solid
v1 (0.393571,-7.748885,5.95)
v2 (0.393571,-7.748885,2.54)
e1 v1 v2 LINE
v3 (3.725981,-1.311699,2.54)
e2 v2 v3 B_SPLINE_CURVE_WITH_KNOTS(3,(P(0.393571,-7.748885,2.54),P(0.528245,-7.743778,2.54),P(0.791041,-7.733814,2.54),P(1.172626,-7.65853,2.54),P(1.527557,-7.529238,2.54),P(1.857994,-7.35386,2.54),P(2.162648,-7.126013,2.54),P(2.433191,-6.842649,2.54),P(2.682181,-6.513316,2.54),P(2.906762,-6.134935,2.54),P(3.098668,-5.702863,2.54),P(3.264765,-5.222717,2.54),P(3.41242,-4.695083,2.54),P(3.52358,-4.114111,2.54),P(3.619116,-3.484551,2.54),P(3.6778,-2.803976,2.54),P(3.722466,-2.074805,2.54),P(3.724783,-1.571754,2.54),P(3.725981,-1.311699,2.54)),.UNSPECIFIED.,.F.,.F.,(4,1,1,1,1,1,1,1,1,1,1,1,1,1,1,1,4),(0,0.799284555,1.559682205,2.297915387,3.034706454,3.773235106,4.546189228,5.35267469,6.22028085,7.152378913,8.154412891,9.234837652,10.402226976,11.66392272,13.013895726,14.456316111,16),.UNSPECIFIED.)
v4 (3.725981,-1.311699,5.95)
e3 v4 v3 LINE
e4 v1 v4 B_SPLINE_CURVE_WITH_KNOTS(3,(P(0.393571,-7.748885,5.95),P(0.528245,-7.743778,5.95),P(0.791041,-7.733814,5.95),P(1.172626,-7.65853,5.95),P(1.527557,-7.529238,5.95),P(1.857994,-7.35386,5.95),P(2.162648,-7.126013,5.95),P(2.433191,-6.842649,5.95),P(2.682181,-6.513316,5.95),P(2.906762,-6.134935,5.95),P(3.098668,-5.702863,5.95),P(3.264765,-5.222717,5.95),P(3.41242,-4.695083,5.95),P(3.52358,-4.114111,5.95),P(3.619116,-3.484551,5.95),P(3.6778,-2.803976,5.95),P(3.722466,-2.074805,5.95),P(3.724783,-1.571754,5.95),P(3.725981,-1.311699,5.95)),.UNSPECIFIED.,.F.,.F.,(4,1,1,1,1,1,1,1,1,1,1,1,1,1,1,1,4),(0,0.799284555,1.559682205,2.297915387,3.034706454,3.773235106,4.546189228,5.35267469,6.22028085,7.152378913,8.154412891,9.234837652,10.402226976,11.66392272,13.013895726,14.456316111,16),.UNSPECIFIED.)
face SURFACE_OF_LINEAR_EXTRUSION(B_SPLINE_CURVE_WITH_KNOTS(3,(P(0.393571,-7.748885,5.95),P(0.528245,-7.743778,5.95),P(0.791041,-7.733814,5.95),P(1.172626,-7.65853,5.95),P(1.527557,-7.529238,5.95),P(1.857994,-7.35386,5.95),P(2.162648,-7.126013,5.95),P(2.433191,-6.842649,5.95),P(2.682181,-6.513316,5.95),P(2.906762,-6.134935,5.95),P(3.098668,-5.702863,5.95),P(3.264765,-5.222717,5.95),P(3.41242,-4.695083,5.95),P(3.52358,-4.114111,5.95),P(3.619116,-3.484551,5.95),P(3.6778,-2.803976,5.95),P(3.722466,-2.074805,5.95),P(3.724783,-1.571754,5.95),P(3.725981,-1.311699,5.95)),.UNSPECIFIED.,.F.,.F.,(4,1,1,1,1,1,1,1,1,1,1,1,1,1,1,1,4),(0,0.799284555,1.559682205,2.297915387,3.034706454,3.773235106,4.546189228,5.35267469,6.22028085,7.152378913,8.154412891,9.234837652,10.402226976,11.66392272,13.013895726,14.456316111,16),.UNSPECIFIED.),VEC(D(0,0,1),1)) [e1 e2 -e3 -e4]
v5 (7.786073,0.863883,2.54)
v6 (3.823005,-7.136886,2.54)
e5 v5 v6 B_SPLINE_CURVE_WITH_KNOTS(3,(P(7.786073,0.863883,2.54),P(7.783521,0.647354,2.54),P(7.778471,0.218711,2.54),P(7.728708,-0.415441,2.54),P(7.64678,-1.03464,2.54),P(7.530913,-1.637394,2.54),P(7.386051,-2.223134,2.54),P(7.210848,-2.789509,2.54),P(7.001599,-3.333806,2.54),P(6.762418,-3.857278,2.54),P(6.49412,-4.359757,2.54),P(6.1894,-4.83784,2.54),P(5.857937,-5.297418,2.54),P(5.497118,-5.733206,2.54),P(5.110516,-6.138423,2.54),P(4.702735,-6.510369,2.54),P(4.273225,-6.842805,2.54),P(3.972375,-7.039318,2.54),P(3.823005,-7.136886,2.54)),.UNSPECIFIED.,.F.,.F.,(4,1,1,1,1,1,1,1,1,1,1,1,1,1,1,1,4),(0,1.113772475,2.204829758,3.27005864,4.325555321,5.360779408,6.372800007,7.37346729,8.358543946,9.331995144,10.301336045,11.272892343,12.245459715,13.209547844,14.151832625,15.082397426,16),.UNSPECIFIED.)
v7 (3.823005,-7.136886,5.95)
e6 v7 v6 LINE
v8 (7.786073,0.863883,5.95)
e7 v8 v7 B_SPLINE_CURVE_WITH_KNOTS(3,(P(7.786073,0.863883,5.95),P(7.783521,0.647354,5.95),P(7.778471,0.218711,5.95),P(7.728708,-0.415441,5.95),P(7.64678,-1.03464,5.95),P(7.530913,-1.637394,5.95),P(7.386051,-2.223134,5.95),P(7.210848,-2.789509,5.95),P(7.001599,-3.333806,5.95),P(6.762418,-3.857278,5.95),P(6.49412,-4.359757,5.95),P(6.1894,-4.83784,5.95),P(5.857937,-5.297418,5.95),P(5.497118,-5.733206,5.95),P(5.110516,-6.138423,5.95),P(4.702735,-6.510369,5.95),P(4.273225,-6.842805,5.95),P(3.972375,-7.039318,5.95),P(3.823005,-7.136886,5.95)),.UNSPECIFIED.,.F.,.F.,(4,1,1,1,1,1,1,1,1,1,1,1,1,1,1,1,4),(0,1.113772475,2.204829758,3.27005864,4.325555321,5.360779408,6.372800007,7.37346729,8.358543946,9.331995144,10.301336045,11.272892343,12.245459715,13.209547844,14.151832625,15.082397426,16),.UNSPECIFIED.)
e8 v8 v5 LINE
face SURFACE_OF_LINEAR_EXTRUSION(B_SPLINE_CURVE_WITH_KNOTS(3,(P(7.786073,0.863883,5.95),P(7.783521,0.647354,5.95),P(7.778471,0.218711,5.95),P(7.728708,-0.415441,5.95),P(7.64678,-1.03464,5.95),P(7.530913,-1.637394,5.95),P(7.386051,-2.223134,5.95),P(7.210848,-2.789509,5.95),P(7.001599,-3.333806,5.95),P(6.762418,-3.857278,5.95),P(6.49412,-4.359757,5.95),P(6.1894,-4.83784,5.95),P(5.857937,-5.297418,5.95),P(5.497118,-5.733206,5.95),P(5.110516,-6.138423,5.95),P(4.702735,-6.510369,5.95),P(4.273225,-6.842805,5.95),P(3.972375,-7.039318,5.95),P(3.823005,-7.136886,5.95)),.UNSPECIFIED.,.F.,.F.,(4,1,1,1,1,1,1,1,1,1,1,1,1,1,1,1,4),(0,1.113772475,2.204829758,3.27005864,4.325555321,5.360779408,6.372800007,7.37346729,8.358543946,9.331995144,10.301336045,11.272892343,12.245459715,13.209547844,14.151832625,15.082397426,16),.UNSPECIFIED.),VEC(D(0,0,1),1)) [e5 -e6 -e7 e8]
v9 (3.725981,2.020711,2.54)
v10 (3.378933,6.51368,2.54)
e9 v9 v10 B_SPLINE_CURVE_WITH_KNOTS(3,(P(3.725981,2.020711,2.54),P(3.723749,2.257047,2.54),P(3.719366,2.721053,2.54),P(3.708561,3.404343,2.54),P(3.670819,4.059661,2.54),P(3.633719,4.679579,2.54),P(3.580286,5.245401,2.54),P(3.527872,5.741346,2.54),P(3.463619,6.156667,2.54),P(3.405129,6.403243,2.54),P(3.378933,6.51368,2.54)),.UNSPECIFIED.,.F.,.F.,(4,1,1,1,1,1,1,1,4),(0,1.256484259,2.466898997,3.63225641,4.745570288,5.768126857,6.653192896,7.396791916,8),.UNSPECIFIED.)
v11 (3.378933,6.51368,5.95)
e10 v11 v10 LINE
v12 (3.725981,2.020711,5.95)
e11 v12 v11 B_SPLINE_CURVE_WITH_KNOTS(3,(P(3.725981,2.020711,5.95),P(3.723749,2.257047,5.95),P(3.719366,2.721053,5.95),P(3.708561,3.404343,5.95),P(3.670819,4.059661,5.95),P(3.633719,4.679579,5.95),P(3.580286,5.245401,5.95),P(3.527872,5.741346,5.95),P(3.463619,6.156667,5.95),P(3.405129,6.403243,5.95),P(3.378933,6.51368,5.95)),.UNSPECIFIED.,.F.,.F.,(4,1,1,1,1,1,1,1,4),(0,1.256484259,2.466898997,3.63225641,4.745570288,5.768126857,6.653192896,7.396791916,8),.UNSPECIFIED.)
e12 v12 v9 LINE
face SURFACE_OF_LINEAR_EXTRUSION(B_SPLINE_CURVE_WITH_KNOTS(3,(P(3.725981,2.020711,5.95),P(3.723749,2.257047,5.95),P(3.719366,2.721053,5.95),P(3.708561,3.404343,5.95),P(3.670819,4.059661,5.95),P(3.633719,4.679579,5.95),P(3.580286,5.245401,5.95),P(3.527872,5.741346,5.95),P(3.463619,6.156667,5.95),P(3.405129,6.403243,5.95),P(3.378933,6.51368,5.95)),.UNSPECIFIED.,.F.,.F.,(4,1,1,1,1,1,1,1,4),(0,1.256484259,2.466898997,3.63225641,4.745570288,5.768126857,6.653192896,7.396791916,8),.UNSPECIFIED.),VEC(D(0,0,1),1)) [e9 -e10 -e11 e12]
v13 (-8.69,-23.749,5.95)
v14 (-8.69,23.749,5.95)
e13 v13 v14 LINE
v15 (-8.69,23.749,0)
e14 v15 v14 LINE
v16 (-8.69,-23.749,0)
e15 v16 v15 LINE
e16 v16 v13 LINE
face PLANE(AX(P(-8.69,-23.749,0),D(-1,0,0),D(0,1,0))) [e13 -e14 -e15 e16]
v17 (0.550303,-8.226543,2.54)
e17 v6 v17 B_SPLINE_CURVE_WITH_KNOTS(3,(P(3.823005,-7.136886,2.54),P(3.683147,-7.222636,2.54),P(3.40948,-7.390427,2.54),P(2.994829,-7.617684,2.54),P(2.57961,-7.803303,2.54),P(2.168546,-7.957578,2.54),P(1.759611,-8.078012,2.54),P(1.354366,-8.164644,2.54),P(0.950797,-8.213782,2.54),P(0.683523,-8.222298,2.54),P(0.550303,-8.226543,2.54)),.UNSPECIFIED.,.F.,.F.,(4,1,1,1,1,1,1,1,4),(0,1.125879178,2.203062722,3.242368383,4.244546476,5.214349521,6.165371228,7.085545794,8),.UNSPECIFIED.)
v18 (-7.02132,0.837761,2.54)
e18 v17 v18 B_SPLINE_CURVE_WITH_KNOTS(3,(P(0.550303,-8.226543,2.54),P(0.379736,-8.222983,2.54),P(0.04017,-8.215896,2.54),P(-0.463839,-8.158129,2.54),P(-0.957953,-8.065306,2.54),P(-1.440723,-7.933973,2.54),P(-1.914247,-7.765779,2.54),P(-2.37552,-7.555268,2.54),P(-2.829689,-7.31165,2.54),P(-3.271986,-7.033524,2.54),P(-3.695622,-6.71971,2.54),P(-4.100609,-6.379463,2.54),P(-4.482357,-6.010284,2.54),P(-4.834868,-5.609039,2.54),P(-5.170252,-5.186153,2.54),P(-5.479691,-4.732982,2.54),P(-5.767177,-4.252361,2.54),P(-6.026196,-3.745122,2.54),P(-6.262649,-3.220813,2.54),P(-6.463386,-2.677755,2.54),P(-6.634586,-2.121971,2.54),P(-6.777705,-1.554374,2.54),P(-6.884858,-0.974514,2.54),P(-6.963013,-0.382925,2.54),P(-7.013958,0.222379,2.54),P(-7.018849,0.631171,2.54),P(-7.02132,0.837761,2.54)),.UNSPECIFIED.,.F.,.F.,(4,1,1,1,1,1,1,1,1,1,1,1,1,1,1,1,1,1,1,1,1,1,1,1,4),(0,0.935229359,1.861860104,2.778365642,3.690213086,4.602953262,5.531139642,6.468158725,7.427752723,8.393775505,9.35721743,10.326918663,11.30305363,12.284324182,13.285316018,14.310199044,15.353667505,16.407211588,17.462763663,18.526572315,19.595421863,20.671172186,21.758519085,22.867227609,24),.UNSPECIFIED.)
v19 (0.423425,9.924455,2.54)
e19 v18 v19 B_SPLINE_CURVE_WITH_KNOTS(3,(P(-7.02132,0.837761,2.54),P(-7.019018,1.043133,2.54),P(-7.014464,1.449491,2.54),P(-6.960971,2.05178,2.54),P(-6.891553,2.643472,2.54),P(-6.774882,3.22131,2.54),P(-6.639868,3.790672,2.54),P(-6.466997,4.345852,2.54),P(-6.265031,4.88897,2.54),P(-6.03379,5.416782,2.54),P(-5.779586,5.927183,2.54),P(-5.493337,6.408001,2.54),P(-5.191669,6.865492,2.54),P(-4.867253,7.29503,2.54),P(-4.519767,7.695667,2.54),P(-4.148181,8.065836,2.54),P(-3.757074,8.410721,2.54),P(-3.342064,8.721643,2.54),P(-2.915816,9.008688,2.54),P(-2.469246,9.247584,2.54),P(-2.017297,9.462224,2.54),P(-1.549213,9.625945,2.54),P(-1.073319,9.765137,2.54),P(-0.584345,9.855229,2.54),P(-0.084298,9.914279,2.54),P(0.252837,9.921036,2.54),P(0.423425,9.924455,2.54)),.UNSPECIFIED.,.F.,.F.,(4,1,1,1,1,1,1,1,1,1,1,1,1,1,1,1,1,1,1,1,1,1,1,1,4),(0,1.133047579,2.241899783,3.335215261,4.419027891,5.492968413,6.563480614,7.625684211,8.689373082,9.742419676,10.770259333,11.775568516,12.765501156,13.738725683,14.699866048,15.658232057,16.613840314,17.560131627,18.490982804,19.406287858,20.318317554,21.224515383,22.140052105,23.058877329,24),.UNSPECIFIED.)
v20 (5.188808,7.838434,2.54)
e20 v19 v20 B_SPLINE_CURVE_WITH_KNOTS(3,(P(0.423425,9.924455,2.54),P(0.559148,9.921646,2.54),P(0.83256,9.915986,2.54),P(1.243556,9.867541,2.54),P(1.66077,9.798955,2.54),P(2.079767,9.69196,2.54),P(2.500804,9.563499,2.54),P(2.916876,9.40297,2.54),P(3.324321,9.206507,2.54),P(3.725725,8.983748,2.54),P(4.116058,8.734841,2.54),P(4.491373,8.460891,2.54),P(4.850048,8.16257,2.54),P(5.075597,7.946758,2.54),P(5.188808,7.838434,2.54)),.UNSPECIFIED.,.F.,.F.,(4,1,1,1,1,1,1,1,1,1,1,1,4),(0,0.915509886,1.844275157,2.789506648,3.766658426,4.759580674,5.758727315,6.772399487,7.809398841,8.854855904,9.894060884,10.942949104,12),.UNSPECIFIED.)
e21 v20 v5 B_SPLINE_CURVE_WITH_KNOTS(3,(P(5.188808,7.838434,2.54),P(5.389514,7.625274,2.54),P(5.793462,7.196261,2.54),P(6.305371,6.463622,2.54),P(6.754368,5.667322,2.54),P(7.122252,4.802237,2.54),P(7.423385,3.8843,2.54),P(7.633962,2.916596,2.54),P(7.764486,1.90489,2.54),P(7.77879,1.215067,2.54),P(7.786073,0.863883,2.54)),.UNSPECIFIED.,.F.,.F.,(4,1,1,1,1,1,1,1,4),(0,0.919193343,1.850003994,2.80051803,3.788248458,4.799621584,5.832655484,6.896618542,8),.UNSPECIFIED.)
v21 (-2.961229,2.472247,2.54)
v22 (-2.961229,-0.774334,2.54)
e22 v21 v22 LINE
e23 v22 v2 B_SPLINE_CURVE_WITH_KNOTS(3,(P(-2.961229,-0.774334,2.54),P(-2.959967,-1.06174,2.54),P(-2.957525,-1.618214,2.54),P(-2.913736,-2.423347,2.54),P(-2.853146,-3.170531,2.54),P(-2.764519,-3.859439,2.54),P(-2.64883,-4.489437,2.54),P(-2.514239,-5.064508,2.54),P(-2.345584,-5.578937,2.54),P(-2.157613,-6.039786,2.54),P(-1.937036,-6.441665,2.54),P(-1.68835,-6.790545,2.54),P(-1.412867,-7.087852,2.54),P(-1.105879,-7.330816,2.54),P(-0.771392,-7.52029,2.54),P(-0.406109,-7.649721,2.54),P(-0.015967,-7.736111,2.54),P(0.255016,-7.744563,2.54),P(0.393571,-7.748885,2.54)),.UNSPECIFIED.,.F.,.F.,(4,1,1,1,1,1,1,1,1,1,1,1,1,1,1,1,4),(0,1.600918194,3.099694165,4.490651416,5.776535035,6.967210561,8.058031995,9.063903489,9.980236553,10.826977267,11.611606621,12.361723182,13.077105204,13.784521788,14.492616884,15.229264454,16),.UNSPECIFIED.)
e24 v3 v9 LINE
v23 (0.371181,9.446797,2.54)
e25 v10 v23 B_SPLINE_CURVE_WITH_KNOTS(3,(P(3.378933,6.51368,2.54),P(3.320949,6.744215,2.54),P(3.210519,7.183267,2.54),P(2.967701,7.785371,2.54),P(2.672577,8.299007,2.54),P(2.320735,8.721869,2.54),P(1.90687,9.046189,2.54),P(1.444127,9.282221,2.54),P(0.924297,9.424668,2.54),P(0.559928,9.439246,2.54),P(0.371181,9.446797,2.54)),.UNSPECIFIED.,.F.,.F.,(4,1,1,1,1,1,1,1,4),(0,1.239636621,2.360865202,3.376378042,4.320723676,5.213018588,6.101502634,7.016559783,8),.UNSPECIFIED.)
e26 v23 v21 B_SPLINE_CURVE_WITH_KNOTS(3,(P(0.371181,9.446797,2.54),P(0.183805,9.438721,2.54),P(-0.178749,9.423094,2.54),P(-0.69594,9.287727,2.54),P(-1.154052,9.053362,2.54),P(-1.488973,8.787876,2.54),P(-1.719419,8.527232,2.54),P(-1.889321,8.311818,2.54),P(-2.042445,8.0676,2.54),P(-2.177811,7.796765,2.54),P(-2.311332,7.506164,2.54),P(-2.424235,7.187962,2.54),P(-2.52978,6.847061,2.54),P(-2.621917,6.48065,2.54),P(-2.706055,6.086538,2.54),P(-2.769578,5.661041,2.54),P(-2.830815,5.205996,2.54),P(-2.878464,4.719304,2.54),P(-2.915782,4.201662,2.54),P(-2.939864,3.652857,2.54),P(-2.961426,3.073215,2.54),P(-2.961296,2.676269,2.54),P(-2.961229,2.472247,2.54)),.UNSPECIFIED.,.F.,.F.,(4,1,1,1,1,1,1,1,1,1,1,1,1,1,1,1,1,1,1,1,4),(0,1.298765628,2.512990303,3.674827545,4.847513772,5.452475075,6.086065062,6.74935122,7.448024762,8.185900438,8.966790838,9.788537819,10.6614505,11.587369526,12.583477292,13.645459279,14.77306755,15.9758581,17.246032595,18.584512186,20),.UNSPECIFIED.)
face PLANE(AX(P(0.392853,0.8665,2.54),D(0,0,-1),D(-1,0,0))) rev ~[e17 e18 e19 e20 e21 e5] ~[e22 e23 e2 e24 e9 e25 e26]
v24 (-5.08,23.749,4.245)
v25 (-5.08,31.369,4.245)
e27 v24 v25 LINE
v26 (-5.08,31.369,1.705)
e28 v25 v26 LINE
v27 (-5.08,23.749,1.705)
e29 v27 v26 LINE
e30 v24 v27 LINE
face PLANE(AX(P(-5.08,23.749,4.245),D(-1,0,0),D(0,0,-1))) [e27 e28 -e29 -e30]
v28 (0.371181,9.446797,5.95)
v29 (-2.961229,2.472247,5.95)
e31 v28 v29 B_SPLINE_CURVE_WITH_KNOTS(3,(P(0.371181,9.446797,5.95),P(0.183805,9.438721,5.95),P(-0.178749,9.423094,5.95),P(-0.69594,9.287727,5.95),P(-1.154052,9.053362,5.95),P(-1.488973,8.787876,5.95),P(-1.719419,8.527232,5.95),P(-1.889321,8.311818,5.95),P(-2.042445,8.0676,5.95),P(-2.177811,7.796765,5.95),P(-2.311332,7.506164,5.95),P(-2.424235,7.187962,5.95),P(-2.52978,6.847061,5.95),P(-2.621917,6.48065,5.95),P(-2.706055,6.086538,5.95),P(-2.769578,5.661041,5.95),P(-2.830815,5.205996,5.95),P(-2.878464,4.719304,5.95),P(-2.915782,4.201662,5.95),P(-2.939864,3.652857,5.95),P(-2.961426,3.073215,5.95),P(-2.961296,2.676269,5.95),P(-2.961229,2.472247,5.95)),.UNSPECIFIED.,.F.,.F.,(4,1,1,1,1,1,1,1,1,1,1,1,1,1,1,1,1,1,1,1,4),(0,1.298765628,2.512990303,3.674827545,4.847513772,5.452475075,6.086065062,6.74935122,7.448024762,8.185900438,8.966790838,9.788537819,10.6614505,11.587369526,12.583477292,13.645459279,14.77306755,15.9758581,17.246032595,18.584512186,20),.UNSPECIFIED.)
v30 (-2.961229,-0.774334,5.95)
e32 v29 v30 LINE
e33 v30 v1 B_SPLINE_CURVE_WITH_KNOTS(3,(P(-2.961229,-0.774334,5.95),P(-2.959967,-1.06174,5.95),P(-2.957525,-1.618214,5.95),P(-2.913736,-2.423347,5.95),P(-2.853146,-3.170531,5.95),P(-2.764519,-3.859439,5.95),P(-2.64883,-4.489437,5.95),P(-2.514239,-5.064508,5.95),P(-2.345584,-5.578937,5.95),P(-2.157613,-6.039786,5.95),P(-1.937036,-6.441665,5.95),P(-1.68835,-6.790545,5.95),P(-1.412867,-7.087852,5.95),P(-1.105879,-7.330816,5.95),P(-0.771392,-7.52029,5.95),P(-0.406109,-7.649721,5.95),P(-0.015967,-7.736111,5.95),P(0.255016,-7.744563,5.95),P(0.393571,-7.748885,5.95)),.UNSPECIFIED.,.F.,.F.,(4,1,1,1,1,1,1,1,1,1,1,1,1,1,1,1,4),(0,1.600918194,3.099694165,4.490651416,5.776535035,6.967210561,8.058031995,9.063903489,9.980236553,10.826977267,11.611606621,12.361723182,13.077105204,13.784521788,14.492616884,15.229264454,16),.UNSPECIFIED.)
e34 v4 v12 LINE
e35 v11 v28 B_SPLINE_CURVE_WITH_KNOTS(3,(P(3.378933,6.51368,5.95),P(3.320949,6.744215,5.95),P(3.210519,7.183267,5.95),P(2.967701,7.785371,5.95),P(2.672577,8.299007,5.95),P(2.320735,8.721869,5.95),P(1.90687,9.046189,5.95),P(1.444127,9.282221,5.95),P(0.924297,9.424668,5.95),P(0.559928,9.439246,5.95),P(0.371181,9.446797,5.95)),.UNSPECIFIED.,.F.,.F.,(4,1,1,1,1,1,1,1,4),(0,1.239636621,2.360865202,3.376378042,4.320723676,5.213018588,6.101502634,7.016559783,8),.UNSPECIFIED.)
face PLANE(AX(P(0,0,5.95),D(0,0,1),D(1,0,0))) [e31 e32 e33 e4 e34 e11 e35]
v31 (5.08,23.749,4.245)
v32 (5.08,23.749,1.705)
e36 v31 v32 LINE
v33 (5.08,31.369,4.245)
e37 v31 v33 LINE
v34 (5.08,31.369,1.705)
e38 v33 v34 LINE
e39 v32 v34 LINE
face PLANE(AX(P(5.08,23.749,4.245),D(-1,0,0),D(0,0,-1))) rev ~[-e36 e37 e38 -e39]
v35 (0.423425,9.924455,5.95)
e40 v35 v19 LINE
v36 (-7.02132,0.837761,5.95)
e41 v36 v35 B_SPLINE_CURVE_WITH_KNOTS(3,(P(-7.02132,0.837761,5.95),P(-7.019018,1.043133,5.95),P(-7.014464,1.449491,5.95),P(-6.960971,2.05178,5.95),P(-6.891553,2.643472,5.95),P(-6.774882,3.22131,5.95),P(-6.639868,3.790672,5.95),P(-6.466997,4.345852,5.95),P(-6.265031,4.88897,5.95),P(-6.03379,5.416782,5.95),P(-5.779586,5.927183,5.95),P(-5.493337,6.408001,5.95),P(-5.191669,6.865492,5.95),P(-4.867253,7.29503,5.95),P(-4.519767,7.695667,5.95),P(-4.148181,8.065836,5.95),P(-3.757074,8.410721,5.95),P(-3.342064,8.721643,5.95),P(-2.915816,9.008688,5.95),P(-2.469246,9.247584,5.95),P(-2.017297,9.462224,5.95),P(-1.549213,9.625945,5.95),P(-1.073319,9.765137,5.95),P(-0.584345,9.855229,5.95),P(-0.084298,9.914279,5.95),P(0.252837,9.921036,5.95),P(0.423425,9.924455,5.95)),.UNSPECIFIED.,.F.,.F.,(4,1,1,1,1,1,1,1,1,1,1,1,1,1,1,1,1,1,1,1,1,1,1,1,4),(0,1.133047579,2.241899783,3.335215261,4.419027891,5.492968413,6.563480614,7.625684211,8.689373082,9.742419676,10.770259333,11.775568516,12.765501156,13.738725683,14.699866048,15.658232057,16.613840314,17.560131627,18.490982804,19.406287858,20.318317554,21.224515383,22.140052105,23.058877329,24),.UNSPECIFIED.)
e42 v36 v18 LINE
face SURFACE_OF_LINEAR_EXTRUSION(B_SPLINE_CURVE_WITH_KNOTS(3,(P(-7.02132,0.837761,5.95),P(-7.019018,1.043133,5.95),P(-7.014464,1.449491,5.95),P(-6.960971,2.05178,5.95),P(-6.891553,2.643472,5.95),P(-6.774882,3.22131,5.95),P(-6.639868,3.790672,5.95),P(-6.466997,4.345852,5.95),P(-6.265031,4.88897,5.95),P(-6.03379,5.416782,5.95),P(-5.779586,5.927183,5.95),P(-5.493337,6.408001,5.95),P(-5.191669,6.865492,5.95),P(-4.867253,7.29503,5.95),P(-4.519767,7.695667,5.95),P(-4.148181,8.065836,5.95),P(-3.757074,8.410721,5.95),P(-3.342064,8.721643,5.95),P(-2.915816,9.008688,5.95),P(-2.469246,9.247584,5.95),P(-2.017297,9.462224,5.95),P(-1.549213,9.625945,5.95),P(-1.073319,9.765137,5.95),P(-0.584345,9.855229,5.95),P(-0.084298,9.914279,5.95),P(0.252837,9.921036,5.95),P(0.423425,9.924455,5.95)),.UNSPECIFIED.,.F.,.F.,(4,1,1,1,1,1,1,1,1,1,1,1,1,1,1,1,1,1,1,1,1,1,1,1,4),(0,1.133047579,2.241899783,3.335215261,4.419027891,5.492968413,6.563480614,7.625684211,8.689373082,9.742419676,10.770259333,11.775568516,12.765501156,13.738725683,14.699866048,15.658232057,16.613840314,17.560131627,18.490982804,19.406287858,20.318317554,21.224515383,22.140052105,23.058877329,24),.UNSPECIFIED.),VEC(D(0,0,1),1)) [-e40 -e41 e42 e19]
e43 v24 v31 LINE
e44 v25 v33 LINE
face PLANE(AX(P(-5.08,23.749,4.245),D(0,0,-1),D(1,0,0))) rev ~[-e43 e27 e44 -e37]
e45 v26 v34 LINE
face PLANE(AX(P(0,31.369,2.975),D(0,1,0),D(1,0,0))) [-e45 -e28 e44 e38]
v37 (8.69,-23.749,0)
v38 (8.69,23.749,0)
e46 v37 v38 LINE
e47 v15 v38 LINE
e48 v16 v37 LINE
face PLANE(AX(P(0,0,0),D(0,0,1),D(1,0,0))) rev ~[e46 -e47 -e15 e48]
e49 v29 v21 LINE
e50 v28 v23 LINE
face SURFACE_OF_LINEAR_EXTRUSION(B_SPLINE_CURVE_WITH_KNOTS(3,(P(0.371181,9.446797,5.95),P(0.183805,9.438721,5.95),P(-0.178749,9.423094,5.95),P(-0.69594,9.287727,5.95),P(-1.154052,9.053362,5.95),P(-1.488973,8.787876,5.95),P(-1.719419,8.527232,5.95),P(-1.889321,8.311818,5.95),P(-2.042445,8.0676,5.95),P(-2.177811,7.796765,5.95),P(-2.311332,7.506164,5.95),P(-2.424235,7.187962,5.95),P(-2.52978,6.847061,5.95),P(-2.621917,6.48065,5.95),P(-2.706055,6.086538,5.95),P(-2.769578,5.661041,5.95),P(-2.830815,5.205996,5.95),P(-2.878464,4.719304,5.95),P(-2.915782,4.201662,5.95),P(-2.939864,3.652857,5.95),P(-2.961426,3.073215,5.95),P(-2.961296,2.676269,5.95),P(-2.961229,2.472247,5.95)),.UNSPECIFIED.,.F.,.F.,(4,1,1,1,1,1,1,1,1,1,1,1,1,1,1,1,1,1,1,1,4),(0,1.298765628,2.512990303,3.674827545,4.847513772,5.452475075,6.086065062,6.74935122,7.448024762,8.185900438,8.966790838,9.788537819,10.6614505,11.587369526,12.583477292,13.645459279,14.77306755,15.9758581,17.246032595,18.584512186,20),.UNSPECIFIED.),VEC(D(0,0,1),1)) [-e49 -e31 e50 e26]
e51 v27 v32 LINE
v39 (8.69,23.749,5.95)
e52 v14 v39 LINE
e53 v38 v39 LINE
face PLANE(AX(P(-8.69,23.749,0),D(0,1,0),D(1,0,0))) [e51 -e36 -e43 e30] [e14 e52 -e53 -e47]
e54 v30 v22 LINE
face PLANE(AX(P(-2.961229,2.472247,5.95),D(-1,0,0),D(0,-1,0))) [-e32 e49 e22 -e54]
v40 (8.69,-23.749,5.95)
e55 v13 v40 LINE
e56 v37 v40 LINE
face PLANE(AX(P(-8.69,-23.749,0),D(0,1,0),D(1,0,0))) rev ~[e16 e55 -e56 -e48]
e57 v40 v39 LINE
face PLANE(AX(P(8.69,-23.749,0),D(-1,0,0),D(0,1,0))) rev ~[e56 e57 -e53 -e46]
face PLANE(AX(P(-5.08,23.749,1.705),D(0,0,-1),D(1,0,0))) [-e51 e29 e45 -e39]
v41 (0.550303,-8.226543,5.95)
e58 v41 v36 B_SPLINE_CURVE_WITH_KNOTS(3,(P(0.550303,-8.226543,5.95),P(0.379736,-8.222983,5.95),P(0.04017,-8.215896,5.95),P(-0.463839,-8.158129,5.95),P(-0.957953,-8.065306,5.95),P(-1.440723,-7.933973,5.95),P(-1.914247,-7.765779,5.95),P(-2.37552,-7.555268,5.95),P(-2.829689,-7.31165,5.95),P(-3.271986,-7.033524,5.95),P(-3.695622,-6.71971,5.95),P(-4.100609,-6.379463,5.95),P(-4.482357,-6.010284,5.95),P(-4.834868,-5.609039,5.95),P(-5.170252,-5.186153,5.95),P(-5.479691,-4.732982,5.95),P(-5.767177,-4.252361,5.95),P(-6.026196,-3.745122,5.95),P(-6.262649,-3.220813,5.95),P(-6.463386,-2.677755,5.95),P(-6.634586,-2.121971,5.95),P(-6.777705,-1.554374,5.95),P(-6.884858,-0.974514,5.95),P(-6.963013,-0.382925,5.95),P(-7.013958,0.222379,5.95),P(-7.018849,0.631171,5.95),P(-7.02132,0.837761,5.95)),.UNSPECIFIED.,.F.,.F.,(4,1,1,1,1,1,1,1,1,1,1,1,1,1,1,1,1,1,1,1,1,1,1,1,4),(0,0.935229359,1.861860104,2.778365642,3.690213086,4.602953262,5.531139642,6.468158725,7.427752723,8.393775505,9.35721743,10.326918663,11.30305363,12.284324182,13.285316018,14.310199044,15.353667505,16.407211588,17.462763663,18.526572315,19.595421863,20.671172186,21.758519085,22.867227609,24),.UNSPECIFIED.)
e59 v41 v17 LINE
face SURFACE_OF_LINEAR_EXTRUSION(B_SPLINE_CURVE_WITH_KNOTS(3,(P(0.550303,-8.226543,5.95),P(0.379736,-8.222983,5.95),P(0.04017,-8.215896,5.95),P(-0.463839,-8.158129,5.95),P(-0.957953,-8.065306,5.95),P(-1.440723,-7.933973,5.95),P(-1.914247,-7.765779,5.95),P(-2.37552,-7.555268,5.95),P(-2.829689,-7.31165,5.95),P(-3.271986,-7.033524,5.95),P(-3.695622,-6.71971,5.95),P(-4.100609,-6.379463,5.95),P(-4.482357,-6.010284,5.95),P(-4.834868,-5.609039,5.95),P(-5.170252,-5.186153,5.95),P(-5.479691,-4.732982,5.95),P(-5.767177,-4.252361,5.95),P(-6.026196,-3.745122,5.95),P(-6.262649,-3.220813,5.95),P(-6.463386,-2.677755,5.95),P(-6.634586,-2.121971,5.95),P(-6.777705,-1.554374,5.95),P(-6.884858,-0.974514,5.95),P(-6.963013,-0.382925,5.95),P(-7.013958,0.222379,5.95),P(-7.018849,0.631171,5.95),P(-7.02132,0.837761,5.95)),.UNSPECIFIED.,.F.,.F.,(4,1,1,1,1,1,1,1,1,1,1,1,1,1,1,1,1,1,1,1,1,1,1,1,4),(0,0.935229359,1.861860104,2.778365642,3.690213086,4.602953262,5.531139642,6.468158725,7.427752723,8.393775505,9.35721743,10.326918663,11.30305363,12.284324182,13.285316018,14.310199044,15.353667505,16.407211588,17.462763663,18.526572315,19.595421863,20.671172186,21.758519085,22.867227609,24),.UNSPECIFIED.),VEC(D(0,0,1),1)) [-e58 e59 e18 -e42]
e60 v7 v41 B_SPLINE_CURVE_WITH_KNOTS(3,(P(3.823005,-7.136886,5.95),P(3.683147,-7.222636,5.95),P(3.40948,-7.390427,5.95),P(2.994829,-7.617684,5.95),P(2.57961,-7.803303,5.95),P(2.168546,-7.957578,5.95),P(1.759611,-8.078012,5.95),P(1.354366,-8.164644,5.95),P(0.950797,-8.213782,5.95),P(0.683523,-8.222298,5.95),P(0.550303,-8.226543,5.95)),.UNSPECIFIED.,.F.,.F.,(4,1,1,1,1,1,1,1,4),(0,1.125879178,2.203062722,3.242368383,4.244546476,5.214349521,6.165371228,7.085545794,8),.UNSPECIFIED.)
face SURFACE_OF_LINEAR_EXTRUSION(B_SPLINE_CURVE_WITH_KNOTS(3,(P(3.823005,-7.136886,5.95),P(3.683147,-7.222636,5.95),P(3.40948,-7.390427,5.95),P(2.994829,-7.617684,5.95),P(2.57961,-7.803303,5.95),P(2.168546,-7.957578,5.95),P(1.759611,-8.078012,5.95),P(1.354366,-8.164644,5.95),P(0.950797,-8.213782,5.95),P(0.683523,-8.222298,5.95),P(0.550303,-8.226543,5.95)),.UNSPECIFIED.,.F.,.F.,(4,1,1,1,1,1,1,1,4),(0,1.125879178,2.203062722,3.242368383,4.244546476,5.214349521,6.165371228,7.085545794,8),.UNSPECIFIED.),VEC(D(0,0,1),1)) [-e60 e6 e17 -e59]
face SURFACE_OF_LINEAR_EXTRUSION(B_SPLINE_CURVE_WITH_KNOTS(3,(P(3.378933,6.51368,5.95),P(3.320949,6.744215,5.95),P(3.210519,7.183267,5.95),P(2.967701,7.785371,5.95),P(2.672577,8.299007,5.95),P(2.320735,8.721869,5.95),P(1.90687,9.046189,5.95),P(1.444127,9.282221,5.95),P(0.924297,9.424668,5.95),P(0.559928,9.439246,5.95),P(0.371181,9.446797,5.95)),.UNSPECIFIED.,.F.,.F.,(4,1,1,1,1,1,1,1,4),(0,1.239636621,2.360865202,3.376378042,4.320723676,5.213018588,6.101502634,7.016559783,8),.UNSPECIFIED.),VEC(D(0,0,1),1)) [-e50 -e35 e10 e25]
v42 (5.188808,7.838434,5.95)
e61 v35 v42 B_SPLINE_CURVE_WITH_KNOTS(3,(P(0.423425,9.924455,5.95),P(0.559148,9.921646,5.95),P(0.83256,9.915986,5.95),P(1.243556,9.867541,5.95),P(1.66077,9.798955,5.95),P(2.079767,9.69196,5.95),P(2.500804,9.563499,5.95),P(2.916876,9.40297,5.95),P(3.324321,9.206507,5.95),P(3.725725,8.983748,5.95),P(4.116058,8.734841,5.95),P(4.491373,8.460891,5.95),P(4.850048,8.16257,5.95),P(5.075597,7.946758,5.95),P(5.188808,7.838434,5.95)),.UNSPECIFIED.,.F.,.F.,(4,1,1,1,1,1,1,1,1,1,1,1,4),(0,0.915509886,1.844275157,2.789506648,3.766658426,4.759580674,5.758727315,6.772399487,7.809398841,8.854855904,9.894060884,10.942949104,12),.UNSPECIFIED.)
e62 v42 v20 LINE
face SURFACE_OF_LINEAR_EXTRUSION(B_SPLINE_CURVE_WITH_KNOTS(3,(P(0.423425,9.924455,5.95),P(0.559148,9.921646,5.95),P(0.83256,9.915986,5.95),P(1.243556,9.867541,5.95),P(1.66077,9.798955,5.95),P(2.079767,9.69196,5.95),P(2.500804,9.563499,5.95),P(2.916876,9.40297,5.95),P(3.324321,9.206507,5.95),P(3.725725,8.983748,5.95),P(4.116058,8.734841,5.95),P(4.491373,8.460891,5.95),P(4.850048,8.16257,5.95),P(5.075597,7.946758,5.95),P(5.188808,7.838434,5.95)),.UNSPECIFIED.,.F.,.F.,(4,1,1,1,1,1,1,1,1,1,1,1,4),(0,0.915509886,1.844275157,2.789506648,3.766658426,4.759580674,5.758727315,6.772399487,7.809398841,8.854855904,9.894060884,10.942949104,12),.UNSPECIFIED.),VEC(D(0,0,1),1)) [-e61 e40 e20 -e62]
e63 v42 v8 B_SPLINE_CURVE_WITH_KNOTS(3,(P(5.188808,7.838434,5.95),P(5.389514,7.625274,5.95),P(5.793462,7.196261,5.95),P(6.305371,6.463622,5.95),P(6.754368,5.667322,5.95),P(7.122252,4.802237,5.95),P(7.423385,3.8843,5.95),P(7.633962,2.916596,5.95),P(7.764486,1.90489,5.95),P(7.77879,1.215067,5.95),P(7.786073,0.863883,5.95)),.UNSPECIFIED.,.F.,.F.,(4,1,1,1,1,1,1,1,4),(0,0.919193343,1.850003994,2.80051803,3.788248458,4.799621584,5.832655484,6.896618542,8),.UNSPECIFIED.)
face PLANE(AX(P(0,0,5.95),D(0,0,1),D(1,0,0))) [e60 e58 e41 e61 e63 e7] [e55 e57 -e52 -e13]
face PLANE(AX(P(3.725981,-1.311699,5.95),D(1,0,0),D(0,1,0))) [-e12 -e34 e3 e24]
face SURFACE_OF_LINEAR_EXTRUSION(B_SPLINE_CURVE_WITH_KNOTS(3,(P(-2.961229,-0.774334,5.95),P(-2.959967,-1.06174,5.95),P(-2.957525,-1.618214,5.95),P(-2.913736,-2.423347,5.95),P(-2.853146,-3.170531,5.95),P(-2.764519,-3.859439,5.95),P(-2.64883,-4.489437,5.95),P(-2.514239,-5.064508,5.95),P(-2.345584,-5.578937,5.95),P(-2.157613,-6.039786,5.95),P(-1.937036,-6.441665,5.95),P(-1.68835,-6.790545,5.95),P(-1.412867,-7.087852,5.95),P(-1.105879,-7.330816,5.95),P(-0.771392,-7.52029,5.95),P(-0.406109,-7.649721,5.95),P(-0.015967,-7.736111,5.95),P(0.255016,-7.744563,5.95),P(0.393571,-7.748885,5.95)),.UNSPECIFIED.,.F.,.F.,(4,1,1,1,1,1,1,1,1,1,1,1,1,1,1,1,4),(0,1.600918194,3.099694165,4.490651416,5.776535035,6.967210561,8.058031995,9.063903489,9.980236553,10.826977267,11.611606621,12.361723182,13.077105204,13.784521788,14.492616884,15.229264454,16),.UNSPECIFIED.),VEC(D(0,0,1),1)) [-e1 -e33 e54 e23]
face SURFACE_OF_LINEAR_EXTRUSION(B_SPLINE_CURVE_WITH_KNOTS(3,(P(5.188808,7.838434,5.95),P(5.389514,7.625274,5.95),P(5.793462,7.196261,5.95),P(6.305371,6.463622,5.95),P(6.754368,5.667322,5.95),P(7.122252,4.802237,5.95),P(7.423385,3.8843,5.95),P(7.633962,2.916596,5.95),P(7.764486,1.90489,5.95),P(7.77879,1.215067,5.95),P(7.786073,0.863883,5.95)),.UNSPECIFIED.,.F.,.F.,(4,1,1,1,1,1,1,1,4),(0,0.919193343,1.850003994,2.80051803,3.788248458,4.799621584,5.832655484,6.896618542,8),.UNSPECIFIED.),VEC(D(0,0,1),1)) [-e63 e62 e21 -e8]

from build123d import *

# Parameters (mm, degrees)
SKETCH1_W           = 17.38
SKETCH1_H           = 47.498
BOSS_EXTRUDE1_DEPTH = 5.95
CUT_EXTRUDE1_DEPTH  = 3.41
SKETCH3_W           = 10.16
SKETCH3_H           = 2.54
BOSS_EXTRUDE2_DEPTH = 7.62


with BuildPart() as part:
    # Sketch1 → Boss-Extrude1 (new body)
    with BuildSketch(Plane.XY):
        Rectangle(SKETCH1_W, SKETCH1_H)
    extrude(amount=BOSS_EXTRUDE1_DEPTH)

    # Sketch2 → Cut-Extrude1 (cut)
    with BuildSketch(Plane.XY.offset(5.95)):
        with BuildLine():
            add(Edge.make_bspline(
                [(0.550302732, -8.226542522), (0.379735674, -8.222982783), (0.040169774, -8.215896034), (-0.463839474, -8.15812923), (-0.957953156, -8.065305599), (-1.440722609, -7.93397308), (-1.914246856, -7.765779149), (-2.375520379, -7.555268135), (-2.829688826, -7.311649662), (-3.271985998, -7.033523648), (-3.695622296, -6.719710376), (-4.100608986, -6.379462985), (-4.482356898, -6.010283848), (-4.834867943, -5.609039062), (-5.170252218, -5.186152795), (-5.479691278, -4.732982281), (-5.767177385, -4.252361088), (-6.026195622, -3.745122286), (-6.262649235, -3.220813492), (-6.463385677, -2.677755241), (-6.63458604, -2.121971034), (-6.777705411, -1.554373675), (-6.884857685, -0.974513718), (-6.963012588, -0.382925268), (-7.013958172, 0.222378933), (-7.018848737, 0.631170896), (-7.021320272, 0.837761211)],
                knots=[0, 0, 0, 0, 0.935229359, 1.861860104, 2.778365642, 3.690213086, 4.602953262, 5.531139642, 6.468158725, 7.427752723, 8.393775505, 9.35721743, 10.326918663, 11.30305363, 12.284324182, 13.285316018, 14.310199044, 15.353667505, 16.407211588, 17.462763663, 18.526572315, 19.595421863, 20.671172186, 21.758519085, 22.867227609, 24, 24, 24, 24], degree=3))
            add(Edge.make_bspline(
                [(-7.021320272, 0.837761211), (-7.019018375, 1.043132905), (-7.014463737, 1.449490733), (-6.960970524, 2.051780421), (-6.891552806, 2.643471616), (-6.774881724, 3.22130983), (-6.639867653, 3.790672361), (-6.466996952, 4.345851556), (-6.265031095, 4.888970049), (-6.033789785, 5.416782083), (-5.779586146, 5.927183042), (-5.493336967, 6.408001352), (-5.191668967, 6.865492143), (-4.867252969, 7.295030074), (-4.519766848, 7.695667308), (-4.148181052, 8.065835718), (-3.757073623, 8.410721014), (-3.34206406, 8.721642737), (-2.915815576, 9.008687913), (-2.469246401, 9.247584189), (-2.017296753, 9.462224383), (-1.549212621, 9.625945007), (-1.073318626, 9.765137224), (-0.584345141, 9.855228751), (-0.084297826, 9.914279226), (0.252836758, 9.921036178), (0.42342487, 9.924455156)],
                knots=[0, 0, 0, 0, 1.133047579, 2.241899783, 3.335215261, 4.419027891, 5.492968413, 6.563480614, 7.625684211, 8.689373082, 9.742419676, 10.770259333, 11.775568516, 12.765501156, 13.738725683, 14.699866048, 15.658232057, 16.613840314, 17.560131627, 18.490982804, 19.406287858, 20.318317554, 21.224515383, 22.140052105, 23.058877329, 24, 24, 24, 24], degree=3))
            add(Edge.make_bspline(
                [(0.42342487, 9.924455156), (0.559148281, 9.921645508), (0.832560203, 9.915985532), (1.243556078, 9.86754079), (1.660769686, 9.798955016), (2.079767463, 9.691960066), (2.500803763, 9.563498986), (2.916875885, 9.402970456), (3.324320864, 9.20650682), (3.725724779, 8.983747658), (4.116057738, 8.734840571), (4.491372535, 8.460890619), (4.850047767, 8.162570258), (5.075596578, 7.946758141), (5.1888081, 7.838433835)],
                knots=[0, 0, 0, 0, 0.915509886, 1.844275157, 2.789506648, 3.766658426, 4.759580674, 5.758727315, 6.772399487, 7.809398841, 8.854855904, 9.894060884, 10.942949104, 12, 12, 12, 12], degree=3))
            add(Edge.make_bspline(
                [(5.1888081, 7.838433835), (5.389513895, 7.625274141), (5.793462123, 7.196260714), (6.305371236, 6.463621807), (6.75436753, 5.667322469), (7.122251761, 4.802237473), (7.423384955, 3.884299926), (7.633961726, 2.916595545), (7.76448607, 1.904889958), (7.778790351, 1.215067432), (7.786072571, 0.863883124)],
                knots=[0, 0, 0, 0, 0.919193343, 1.850003994, 2.80051803, 3.788248458, 4.799621584, 5.832655484, 6.896618542, 8, 8, 8, 8], degree=3))
            add(Edge.make_bspline(
                [(7.786072571, 0.863883124), (7.78352135, 0.647353624), (7.778470942, 0.218710705), (7.728707805, -0.415441181), (7.646780013, -1.034640035), (7.530912683, -1.637393561), (7.386051211, -2.223133728), (7.210848244, -2.789509257), (7.001599425, -3.333806008), (6.762418257, -3.857277855), (6.494119995, -4.359757078), (6.189400077, -4.837839702), (5.857936501, -5.297417839), (5.49711839, -5.733205631), (5.11051594, -6.138422567), (4.702735067, -6.510368516), (4.273224882, -6.842804833), (3.972375106, -7.039318089), (3.823005232, -7.136885589)],
                knots=[0, 0, 0, 0, 1.113772475, 2.204829758, 3.27005864, 4.325555321, 5.360779408, 6.372800007, 7.37346729, 8.358543946, 9.331995144, 10.301336045, 11.272892343, 12.245459715, 13.209547844, 14.151832625, 15.082397426, 16, 16, 16, 16], degree=3))
            add(Edge.make_bspline(
                [(3.823005232, -7.136885589), (3.683147268, -7.222635548), (3.409480365, -7.390426678), (2.994828528, -7.617684008), (2.579610392, -7.803303161), (2.168546265, -7.957578038), (1.759611301, -8.078012453), (1.354366193, -8.164644128), (0.950796586, -8.213781885), (0.683522897, -8.222297827), (0.550302732, -8.226542522)],
                knots=[0, 0, 0, 0, 1.125879178, 2.203062722, 3.242368383, 4.244546476, 5.214349521, 6.165371228, 7.085545794, 8, 8, 8, 8], degree=3))
        make_face()
        with BuildLine():
            Line((-2.961228686, 2.472246611), (-2.961228686, -0.774333977))
            add(Edge.make_bspline(
                [(-2.961228686, -0.774333977), (-2.959967414, -1.061739722), (-2.957525343, -1.618214071), (-2.913735758, -2.423346557), (-2.85314572, -3.170531032), (-2.764518939, -3.859438567), (-2.648829977, -4.489436798), (-2.514239059, -5.064508473), (-2.34558364, -5.578937047), (-2.157613001, -6.039786153), (-1.937036422, -6.441665454), (-1.688349536, -6.790544547), (-1.412867317, -7.087851968), (-1.105878525, -7.330815974), (-0.771392176, -7.520290022), (-0.406109176, -7.649721448), (-0.015966549, -7.736110927), (0.255015986, -7.744563056), (0.393571255, -7.748884688)],
                knots=[0, 0, 0, 0, 1.600918194, 3.099694165, 4.490651416, 5.776535035, 6.967210561, 8.058031995, 9.063903489, 9.980236553, 10.826977267, 11.611606621, 12.361723182, 13.077105204, 13.784521788, 14.492616884, 15.229264454, 16, 16, 16, 16], degree=3))
            add(Edge.make_bspline(
                [(0.393571255, -7.748884688), (0.528245131, -7.743778256), (0.791040711, -7.733813831), (1.172625546, -7.658529716), (1.52755677, -7.529237818), (1.857994163, -7.353860426), (2.162648136, -7.126013205), (2.433191301, -6.842648648), (2.682181228, -6.513316438), (2.906762463, -6.134934559), (3.098668036, -5.70286344), (3.264765351, -5.222717393), (3.41242016, -4.695082575), (3.523579553, -4.114111113), (3.619116063, -3.484551491), (3.677799548, -2.803976451), (3.722465518, -2.074804922), (3.724782967, -1.571754083), (3.725980985, -1.31169904)],
                knots=[0, 0, 0, 0, 0.799284555, 1.559682205, 2.297915387, 3.034706454, 3.773235106, 4.546189228, 5.35267469, 6.22028085, 7.152378913, 8.154412891, 9.234837652, 10.402226976, 11.66392272, 13.013895726, 14.456316111, 16, 16, 16, 16], degree=3))
            Line((3.725980985, -1.31169904), (3.725980985, 2.02071069))
            add(Edge.make_bspline(
                [(3.725980985, 2.02071069), (3.723748812, 2.257046674), (3.71936631, 2.721053283), (3.708560971, 3.40434293), (3.670819489, 4.059661491), (3.633719336, 4.679578677), (3.580286013, 5.245401301), (3.527872185, 5.741345681), (3.463618752, 6.156666795), (3.405129076, 6.40324308), (3.378932715, 6.513679687)],
                knots=[0, 0, 0, 0, 1.256484259, 2.466898997, 3.63225641, 4.745570288, 5.768126857, 6.653192896, 7.396791916, 8, 8, 8, 8], degree=3))
            add(Edge.make_bspline(
                [(3.378932715, 6.513679687), (3.320948737, 6.744215447), (3.210519313, 7.183266572), (2.967701416, 7.785371154), (2.672577177, 8.299006644), (2.320734987, 8.721868888), (1.906870016, 9.046189335), (1.444126514, 9.282221464), (0.924296657, 9.424668031), (0.55992772, 9.439245863), (0.371181044, 9.446797322)],
                knots=[0, 0, 0, 0, 1.239636621, 2.360865202, 3.376378042, 4.320723676, 5.213018588, 6.101502634, 7.016559783, 8, 8, 8, 8], degree=3))
            add(Edge.make_bspline(
                [(0.371181044, 9.446797322), (0.183805449, 9.438721037), (-0.178748844, 9.423094179), (-0.695940302, 9.287727329), (-1.154051557, 9.05336189), (-1.488973453, 8.787875802), (-1.719418951, 8.527231967), (-1.889320993, 8.311817875), (-2.042444584, 8.067599792), (-2.177811432, 7.796765191), (-2.311332426, 7.50616398), (-2.42423477, 7.187961886), (-2.529779888, 6.84706081), (-2.621917406, 6.480649791), (-2.706054572, 6.086538044), (-2.769578415, 5.66104142), (-2.830815218, 5.205995831), (-2.878464235, 4.719303951), (-2.91578194, 4.201662227), (-2.939863819, 3.652856534), (-2.961426072, 3.073215175), (-2.961295697, 2.676269351), (-2.961228686, 2.472246611)],
                knots=[0, 0, 0, 0, 1.298765628, 2.512990303, 3.674827545, 4.847513772, 5.452475075, 6.086065062, 6.74935122, 7.448024762, 8.185900438, 8.966790838, 9.788537819, 10.6614505, 11.587369526, 12.583477292, 13.645459279, 14.77306755, 15.9758581, 17.246032595, 18.584512186, 20, 20, 20, 20], degree=3))
        make_face(mode=Mode.SUBTRACT)
    extrude(amount=-CUT_EXTRUDE1_DEPTH, mode=Mode.SUBTRACT)

    # Sketch3 → Boss-Extrude2 (add)
    with BuildSketch(Plane(origin=(0, 23.749, 0), x_dir=(1, 0, 0), z_dir=(0, 1, 0))):
        with Locations((0, -2.975)):
            Rectangle(SKETCH3_W, SKETCH3_H)
    extrude(amount=BOSS_EXTRUDE2_DEPTH)


solid = part.part
